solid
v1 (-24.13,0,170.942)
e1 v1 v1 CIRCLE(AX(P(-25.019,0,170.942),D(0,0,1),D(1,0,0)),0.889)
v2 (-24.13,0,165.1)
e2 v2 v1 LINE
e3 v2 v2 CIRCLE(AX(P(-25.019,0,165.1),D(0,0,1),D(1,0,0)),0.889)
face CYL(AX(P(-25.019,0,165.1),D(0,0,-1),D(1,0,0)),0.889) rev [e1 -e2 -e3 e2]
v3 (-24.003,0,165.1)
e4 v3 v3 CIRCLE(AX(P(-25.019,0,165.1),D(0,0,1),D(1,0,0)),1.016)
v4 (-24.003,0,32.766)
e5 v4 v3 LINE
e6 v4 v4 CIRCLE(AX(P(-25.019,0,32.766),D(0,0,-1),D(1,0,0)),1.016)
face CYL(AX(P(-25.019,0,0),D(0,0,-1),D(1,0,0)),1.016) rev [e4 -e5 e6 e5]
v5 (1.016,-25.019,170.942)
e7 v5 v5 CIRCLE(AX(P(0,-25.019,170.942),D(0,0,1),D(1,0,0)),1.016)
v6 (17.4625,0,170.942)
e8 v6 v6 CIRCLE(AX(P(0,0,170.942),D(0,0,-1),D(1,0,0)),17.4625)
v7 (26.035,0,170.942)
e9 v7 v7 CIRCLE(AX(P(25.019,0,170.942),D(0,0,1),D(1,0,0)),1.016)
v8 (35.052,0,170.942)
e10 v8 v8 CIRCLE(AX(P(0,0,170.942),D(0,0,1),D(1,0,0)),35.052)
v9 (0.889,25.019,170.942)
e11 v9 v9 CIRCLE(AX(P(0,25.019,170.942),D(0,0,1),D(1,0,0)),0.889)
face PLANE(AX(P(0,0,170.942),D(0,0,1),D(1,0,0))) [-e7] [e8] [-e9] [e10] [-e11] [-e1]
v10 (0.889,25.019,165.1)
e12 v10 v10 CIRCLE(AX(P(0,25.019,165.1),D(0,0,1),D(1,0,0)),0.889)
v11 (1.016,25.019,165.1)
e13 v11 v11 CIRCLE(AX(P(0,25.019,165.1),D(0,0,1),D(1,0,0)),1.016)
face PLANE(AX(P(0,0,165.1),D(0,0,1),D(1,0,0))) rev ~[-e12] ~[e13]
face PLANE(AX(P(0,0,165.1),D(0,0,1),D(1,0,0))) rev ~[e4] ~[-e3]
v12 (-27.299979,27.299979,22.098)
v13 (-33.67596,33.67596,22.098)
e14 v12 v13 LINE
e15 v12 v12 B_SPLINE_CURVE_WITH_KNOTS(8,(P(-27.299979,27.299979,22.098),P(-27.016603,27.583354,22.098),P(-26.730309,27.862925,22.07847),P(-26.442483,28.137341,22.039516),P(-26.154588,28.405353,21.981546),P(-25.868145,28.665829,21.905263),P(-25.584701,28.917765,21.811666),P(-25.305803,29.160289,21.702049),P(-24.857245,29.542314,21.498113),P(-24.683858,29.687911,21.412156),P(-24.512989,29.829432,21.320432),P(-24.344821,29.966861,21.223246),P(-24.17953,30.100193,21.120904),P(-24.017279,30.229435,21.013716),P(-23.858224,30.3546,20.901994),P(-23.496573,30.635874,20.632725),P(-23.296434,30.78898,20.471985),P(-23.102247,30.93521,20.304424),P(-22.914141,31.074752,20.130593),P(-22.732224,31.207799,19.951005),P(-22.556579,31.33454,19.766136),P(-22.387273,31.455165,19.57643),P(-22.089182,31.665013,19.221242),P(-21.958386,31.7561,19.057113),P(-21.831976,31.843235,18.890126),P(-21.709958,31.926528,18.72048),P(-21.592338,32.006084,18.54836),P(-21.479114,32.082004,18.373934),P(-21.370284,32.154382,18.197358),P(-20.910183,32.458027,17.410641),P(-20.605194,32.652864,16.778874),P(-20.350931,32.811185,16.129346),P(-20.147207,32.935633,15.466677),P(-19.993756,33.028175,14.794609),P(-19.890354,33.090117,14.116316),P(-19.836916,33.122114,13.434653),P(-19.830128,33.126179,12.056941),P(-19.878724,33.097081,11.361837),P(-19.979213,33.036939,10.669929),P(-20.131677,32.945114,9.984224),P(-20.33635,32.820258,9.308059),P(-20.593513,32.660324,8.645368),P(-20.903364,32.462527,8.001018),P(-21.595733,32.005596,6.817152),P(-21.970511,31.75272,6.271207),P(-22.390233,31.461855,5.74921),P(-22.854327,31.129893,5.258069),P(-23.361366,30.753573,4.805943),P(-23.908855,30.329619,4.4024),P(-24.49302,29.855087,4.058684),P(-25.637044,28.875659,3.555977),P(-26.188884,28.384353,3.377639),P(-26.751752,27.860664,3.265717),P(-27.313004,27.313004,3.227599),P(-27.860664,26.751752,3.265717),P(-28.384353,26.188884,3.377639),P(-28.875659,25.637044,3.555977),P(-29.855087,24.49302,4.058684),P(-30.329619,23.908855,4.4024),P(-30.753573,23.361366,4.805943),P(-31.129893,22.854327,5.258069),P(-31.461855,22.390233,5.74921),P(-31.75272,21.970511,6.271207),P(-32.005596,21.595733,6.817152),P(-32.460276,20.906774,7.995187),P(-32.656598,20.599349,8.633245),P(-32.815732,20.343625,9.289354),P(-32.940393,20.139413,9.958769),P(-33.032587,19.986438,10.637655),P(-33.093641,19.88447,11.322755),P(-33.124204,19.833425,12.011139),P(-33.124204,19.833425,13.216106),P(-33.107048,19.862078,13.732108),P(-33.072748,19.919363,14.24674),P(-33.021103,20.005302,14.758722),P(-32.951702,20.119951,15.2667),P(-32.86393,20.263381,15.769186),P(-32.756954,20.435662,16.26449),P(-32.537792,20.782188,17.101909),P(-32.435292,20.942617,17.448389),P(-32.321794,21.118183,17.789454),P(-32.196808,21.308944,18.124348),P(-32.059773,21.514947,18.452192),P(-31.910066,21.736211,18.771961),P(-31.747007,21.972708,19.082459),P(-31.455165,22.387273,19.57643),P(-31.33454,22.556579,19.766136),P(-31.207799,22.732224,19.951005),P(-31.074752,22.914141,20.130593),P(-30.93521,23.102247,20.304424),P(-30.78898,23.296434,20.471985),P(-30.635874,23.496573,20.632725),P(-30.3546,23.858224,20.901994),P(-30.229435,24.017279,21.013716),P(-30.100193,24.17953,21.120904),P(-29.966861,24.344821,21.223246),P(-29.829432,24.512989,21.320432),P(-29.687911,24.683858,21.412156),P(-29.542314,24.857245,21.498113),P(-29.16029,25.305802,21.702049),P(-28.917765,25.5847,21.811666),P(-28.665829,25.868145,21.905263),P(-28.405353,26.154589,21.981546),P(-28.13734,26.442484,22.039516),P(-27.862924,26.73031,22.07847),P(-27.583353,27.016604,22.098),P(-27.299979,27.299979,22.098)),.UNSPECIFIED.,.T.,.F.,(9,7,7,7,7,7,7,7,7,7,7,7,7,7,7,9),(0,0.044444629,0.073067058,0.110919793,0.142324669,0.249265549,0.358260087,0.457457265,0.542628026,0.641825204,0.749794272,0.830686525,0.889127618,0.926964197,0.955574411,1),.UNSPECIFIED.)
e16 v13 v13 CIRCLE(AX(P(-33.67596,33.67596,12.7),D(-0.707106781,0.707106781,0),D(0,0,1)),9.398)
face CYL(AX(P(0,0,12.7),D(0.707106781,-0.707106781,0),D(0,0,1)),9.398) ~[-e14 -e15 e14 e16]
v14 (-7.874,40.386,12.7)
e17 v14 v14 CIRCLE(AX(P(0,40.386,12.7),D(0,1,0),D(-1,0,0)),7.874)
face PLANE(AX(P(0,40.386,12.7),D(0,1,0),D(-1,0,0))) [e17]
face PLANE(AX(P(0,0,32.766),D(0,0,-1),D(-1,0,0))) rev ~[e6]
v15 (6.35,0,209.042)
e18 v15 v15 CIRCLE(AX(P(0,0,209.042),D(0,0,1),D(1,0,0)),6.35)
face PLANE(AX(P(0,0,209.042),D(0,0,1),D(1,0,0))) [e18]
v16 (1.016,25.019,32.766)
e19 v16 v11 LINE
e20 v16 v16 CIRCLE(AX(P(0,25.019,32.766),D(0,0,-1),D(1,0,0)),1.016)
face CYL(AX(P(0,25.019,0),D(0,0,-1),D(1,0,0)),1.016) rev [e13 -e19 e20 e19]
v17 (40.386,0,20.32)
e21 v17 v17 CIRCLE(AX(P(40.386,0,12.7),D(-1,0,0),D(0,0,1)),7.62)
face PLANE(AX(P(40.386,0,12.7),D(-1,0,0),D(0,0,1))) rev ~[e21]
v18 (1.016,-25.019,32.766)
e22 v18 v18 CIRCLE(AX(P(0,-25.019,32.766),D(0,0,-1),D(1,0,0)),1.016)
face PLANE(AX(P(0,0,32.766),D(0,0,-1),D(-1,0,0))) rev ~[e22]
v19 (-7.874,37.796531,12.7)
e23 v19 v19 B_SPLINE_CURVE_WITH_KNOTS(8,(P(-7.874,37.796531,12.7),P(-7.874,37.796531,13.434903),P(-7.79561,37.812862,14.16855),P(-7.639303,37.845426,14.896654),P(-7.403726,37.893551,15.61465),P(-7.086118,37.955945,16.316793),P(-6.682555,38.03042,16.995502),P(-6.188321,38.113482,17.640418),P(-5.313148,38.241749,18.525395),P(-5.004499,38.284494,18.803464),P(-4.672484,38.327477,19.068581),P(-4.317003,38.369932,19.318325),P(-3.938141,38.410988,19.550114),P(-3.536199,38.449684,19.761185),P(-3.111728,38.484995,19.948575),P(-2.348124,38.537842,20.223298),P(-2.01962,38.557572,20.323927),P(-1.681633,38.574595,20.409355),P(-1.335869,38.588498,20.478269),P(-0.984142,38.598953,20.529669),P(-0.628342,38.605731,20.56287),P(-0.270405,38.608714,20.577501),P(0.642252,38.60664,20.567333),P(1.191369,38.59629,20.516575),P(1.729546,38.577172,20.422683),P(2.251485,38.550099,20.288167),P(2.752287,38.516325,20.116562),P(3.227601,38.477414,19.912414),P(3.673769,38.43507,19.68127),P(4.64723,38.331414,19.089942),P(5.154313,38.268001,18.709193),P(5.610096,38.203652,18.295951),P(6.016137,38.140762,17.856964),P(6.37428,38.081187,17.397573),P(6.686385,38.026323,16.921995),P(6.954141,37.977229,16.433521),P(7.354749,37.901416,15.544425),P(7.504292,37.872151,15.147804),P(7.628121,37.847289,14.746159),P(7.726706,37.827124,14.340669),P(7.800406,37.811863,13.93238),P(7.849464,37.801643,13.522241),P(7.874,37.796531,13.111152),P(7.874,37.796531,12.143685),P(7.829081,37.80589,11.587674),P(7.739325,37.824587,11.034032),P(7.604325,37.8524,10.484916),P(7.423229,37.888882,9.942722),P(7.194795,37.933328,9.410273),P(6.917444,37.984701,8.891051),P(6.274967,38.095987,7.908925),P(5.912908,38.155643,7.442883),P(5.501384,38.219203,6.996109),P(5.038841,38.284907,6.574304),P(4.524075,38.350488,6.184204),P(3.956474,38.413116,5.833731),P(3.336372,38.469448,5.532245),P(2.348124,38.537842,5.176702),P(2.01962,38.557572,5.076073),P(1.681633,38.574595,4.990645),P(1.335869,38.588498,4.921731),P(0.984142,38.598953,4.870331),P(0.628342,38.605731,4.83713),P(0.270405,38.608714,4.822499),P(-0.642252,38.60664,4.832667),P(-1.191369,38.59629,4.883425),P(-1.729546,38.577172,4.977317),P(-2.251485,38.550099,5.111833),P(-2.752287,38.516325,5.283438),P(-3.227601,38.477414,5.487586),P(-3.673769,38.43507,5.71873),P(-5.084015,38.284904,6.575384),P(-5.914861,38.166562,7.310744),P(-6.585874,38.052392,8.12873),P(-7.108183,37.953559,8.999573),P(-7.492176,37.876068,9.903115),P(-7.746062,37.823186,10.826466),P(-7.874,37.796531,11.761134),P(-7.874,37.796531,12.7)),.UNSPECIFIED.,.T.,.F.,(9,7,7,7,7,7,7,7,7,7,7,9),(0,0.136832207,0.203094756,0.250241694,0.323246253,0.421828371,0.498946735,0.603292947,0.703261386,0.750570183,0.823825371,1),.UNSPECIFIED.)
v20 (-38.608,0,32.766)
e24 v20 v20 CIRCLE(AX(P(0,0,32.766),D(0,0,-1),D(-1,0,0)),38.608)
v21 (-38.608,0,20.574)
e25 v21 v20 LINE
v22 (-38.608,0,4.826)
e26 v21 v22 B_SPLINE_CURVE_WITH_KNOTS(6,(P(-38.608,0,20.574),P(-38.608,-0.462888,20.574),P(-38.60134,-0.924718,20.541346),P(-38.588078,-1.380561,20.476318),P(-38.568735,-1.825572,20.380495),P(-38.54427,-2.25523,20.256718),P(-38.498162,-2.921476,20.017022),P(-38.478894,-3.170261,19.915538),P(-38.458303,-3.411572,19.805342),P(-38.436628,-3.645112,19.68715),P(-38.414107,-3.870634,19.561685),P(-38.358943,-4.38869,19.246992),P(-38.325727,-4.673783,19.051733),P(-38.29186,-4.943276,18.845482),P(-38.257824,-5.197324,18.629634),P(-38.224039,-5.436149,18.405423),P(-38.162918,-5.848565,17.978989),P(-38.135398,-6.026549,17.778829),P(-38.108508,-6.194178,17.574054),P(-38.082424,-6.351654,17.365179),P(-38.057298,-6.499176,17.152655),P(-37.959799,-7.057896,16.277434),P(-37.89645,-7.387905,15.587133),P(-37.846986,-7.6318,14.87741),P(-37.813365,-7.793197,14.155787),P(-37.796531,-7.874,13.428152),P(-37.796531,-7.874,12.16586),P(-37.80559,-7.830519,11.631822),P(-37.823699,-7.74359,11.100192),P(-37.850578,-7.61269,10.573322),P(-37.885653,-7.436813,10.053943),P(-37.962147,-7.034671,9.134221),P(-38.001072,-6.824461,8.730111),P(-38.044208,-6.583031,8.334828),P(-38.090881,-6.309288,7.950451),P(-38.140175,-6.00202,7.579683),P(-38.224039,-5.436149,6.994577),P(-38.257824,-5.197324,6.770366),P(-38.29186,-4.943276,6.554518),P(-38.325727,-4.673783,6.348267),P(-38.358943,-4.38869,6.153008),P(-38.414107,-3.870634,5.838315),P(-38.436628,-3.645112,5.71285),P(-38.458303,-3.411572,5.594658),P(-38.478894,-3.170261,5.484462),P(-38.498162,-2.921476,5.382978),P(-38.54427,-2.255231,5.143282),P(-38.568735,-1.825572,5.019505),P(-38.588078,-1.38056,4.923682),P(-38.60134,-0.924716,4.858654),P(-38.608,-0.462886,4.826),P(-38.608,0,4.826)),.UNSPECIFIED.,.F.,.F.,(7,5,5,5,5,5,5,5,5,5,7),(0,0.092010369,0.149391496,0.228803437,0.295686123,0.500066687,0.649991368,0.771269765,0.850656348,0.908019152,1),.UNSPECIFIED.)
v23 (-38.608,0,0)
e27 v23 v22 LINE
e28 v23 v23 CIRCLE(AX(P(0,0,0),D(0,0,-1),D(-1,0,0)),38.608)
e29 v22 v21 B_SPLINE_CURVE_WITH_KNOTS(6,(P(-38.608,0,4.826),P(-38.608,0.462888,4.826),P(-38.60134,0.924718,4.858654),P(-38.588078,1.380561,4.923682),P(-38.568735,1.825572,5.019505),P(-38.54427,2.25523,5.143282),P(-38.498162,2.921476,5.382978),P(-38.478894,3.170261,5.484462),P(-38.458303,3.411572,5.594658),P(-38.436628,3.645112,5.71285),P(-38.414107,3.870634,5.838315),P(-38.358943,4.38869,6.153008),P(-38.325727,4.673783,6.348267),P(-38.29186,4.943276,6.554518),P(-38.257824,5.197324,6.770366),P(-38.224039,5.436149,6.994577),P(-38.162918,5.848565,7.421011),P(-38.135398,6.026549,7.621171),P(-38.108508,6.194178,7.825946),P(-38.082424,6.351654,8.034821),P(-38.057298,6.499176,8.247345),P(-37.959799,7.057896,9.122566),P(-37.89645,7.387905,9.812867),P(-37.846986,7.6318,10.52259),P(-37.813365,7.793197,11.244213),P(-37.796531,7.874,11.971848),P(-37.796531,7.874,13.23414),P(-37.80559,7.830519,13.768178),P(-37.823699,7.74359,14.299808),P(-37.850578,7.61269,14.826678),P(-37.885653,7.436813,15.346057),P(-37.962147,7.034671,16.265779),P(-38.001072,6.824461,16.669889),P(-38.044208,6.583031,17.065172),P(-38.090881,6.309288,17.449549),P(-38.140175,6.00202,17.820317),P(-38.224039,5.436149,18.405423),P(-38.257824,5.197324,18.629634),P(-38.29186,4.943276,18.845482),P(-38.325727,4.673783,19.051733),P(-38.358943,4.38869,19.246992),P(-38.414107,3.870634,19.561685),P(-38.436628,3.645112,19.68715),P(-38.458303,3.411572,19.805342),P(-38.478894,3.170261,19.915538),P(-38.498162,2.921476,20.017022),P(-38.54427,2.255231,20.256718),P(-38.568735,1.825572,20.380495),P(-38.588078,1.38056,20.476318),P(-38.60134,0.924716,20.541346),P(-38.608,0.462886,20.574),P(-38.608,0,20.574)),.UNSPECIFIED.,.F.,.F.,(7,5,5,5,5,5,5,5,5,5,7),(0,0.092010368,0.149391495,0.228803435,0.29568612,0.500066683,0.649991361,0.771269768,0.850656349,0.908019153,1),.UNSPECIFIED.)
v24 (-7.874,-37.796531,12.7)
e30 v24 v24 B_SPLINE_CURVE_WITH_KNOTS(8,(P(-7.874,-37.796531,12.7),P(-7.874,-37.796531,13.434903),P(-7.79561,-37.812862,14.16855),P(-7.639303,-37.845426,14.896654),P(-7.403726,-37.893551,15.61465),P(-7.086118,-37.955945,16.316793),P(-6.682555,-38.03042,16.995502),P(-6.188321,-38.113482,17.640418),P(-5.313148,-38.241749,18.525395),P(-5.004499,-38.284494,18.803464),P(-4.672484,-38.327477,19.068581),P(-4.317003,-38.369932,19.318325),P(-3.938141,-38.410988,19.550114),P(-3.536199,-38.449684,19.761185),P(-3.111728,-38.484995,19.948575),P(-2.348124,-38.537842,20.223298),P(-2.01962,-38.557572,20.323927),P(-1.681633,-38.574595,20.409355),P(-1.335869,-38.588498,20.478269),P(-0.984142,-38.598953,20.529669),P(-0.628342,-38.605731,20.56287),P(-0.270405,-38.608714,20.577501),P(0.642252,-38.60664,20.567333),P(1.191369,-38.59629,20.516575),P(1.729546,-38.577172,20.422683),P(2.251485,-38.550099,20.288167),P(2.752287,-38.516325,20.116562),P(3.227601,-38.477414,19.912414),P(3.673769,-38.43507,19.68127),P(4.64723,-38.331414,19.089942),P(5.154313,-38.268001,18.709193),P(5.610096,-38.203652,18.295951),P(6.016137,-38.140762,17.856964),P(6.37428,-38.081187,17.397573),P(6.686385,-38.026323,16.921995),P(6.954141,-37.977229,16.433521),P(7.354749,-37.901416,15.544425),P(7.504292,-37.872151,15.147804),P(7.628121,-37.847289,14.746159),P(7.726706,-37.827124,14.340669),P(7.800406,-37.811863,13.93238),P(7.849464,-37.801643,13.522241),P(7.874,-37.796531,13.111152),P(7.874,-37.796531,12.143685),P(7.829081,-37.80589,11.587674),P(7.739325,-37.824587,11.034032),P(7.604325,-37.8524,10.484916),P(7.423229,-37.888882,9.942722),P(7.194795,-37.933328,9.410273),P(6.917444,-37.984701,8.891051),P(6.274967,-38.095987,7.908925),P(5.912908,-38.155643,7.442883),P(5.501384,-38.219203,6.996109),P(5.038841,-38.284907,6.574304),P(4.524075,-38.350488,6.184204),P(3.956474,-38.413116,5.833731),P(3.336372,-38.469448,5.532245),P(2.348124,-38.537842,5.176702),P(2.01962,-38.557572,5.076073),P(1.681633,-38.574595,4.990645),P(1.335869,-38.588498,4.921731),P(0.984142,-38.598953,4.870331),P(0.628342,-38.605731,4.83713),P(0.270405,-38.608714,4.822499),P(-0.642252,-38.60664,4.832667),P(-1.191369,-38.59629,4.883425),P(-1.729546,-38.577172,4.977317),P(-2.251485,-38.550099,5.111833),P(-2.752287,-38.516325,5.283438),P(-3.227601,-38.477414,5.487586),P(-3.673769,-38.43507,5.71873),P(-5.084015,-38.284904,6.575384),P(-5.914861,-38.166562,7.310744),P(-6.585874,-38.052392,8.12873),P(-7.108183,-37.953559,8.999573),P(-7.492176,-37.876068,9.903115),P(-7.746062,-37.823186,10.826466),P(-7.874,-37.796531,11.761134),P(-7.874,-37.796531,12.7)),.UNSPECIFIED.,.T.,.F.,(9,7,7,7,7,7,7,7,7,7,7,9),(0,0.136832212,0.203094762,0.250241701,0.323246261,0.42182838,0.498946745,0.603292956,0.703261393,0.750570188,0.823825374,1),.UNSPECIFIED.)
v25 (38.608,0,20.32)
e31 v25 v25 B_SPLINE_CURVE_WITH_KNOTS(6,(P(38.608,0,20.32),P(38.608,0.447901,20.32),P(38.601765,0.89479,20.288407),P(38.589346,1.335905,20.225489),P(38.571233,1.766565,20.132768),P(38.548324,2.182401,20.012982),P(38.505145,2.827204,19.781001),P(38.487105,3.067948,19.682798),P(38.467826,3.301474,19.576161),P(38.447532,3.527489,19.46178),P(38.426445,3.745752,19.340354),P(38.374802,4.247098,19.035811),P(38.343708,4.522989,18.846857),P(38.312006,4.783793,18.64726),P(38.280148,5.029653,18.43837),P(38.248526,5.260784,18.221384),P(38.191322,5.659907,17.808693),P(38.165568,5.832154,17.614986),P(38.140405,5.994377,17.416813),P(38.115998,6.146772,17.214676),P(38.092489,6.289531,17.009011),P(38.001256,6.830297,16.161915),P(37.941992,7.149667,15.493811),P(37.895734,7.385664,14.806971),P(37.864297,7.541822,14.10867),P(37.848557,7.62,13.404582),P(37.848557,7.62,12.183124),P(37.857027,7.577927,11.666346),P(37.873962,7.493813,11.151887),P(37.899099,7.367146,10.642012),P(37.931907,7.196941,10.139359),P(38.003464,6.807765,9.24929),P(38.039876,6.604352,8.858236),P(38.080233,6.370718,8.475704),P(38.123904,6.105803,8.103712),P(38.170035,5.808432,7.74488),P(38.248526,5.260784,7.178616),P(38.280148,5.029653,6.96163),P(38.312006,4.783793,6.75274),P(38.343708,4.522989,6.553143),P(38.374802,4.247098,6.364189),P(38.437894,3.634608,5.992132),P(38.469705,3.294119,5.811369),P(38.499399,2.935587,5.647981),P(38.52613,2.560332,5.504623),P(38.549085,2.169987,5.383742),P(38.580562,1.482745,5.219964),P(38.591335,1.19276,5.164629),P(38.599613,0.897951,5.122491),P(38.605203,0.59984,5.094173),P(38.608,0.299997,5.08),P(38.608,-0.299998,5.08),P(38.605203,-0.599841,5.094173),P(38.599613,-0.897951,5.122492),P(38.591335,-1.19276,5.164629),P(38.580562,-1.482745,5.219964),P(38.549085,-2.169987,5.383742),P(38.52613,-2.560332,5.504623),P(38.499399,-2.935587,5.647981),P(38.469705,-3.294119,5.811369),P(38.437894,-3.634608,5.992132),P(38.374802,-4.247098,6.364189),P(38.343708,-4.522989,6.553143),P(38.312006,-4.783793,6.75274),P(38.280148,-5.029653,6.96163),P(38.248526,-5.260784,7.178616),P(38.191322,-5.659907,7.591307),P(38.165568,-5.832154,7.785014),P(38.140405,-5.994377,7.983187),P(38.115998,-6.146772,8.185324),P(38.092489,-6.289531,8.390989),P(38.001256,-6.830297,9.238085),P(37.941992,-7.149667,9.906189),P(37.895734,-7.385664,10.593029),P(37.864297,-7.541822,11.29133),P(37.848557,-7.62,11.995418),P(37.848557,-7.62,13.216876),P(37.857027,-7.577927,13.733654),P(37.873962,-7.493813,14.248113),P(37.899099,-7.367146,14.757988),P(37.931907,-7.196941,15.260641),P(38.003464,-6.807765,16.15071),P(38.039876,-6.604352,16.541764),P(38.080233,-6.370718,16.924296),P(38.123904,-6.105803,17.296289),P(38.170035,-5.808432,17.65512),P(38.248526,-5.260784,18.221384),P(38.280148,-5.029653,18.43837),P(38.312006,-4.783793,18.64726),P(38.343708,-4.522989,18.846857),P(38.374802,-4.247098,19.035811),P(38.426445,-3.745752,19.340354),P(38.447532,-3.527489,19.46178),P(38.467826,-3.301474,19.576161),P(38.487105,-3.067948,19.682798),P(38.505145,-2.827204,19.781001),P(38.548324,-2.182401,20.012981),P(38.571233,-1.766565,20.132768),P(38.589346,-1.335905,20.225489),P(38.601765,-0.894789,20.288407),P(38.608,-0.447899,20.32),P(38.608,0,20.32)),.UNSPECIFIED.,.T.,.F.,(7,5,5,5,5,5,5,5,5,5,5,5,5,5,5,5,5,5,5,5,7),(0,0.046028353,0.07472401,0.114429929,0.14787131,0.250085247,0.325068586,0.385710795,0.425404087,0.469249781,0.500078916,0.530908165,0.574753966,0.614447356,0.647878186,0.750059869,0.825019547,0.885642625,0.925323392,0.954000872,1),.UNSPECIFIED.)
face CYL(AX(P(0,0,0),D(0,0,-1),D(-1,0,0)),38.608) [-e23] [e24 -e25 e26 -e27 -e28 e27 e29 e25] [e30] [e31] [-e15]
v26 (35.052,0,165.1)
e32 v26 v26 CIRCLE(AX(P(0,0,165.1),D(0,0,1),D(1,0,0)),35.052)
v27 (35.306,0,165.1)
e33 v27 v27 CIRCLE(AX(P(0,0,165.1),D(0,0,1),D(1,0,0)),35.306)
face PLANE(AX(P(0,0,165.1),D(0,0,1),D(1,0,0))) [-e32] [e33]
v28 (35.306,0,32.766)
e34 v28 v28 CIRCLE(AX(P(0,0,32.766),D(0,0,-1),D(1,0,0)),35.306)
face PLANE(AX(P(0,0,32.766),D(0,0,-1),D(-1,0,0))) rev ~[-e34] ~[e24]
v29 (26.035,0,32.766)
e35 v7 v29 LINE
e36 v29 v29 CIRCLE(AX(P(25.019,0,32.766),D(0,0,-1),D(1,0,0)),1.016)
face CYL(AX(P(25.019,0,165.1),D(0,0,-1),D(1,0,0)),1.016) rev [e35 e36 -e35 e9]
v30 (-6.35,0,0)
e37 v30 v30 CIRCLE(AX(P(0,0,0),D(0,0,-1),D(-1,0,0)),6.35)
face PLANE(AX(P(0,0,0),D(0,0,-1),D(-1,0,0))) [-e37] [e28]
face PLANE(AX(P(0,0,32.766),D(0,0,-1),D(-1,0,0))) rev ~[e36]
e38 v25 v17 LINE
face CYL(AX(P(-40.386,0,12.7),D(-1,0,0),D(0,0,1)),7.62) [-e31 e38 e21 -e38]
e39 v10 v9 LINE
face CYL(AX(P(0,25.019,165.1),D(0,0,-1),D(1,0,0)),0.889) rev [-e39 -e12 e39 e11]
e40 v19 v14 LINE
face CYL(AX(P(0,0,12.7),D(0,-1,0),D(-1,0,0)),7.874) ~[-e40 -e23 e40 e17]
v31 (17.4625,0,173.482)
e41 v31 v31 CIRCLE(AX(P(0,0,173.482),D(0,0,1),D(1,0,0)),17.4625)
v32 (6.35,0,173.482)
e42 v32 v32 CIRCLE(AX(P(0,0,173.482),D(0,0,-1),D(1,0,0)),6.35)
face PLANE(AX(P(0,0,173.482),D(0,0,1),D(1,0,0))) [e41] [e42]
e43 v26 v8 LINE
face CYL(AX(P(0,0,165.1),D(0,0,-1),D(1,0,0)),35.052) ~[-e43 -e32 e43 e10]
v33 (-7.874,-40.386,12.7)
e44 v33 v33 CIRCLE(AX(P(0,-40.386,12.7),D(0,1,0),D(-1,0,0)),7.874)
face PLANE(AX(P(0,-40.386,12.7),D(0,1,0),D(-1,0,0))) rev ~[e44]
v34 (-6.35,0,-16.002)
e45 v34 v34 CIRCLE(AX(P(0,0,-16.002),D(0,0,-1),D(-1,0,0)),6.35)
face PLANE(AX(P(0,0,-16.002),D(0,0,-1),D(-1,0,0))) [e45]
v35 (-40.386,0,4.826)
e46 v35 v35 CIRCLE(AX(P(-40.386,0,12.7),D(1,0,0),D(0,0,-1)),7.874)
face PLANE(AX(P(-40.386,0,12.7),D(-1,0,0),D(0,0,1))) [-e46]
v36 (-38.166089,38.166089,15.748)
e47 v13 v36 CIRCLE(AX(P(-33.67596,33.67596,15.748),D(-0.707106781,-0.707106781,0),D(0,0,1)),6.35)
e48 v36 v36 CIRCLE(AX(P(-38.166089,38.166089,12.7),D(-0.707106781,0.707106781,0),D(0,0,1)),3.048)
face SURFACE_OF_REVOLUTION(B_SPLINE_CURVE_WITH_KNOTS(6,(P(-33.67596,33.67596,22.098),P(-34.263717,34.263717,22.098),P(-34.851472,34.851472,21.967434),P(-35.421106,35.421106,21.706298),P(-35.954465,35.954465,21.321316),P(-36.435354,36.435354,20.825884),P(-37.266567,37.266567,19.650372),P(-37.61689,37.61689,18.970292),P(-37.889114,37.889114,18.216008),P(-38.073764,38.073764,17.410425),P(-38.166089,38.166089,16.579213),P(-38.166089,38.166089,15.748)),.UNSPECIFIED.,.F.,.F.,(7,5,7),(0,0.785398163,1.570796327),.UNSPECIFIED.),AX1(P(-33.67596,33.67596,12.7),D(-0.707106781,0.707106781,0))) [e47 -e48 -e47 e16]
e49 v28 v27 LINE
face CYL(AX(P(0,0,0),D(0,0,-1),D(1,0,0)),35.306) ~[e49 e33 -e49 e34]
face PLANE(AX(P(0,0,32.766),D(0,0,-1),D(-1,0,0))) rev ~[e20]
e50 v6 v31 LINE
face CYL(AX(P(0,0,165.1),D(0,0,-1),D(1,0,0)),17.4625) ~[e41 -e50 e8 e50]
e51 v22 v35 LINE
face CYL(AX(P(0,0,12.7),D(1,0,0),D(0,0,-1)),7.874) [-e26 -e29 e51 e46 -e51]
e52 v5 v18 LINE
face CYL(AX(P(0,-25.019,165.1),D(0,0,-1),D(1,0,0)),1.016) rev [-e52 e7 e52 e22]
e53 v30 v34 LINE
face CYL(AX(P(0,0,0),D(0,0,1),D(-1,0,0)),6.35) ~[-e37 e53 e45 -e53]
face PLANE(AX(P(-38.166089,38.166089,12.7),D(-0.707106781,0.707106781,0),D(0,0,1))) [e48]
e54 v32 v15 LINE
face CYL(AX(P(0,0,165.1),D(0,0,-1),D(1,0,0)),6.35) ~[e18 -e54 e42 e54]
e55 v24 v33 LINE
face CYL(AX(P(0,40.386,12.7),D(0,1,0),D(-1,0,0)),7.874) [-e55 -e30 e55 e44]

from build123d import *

# Parameters (mm, degrees)
SKETCH1_R            = 35.306
SKETCH1_R_2          = 1.016
BASE_EXTRUDE_DEPTH   = 165.1
SKETCH2_R            = 38.608
BOSS_EXTRUDE1_DEPTH  = 32.766
SKETCH3_R            = 6.35
BOSS_EXTRUDE2_DEPTH  = 43.942
SKETCH4_R            = 17.4625
BOSS_EXTRUDE3_DEPTH  = 8.382
SKETCH7_R            = 7.874
BOSS_EXTRUDE5_DEPTH  = 40.386
SKETCH9_R            = 7.62
BOSS_EXTRUDE7_DEPTH  = 80.772
SKETCH11_R           = 7.874
BOSS_EXTRUDE8_DEPTH  = 40.386
BOSS_EXTRUDE10_START = -80.772
SKETCH12_R           = 7.874
BOSS_EXTRUDE10_DEPTH = 80.772
SKETCH13_R           = 9.398
BOSS_EXTRUDE11_DEPTH = 53.975
FILLET1_R            = 6.35
BOSS_EXTRUDE12_START = 16.002
SKETCH14_R           = 6.35
BOSS_EXTRUDE12_DEPTH = 16.002
SKETCH15_R           = 35.052
SKETCH15_R_2         = 1.016
SKETCH15_R_3         = 0.889
BOSS_EXTRUDE13_DEPTH = 5.842


with BuildPart() as part:
    # Sketch1 → Base-Extrude (new body)
    with BuildSketch(Plane.XY):
        Circle(SKETCH1_R)
        with Locations((25.019, 0)):
            Circle(SKETCH1_R_2, mode=Mode.SUBTRACT)
        with Locations((0, 25.019)):
            Circle(SKETCH1_R_2, mode=Mode.SUBTRACT)
        with Locations((-25.019, 0)):
            Circle(SKETCH1_R_2, mode=Mode.SUBTRACT)
        with Locations((0, -25.019)):
            Circle(SKETCH1_R_2, mode=Mode.SUBTRACT)
    extrude(amount=BASE_EXTRUDE_DEPTH)

    # Sketch2 → Boss-Extrude1 (add)
    with BuildSketch(Plane(origin=(0, 0, 0), x_dir=(-1, 0, 0), z_dir=(0, 0, -1))):
        Circle(SKETCH2_R)
    extrude(amount=-BOSS_EXTRUDE1_DEPTH)

    # Sketch3 → Boss-Extrude2 (add)
    with BuildSketch(Plane.XY.offset(165.1)):
        Circle(SKETCH3_R)
    extrude(amount=BOSS_EXTRUDE2_DEPTH)

    # Sketch4 → Boss-Extrude3 (add)
    with BuildSketch(Plane.XY.offset(165.1)):
        Circle(SKETCH4_R)
    extrude(amount=BOSS_EXTRUDE3_DEPTH)

    # Sketch7 → Boss-Extrude5 (add)
    with BuildSketch(Plane(origin=(0, 0, 0), x_dir=(0, 0, -1), z_dir=(1, 0, 0))):
        with Locations((-12.7, 0)):
            Circle(SKETCH7_R)
    extrude(amount=-BOSS_EXTRUDE5_DEPTH)

    # Sketch9 → Boss-Extrude7 (add)
    with BuildSketch(Plane.ZY.offset(40.386)):
        with Locations((12.7, 0)):
            Circle(SKETCH9_R)
    extrude(amount=-BOSS_EXTRUDE7_DEPTH)

    # Sketch11 → Boss-Extrude8 (add)
    with BuildSketch(Plane(origin=(0, 0, 0), x_dir=(-1, 0, 0), z_dir=(0, 1, 0))):
        with Locations((0, 12.7)):
            Circle(SKETCH11_R)
    extrude(amount=BOSS_EXTRUDE8_DEPTH)

    # Sketch12 → Boss-Extrude10 (add)
    with BuildSketch(Plane(origin=(0, 40.386, 0), x_dir=(-1, 0, 0), z_dir=(0, 1, 0)).offset(BOSS_EXTRUDE10_START)):
        with Locations((0, 12.7)):
            Circle(SKETCH12_R)
    extrude(amount=BOSS_EXTRUDE10_DEPTH)

    # Sketch13 → Boss-Extrude11 (add)
    with BuildSketch(Plane(origin=(0, 0, 0), x_dir=(0, 0, 1), z_dir=(-0.7071067811865488, 0.7071067811865462, 0))):
        with Locations((12.7, 0)):
            Circle(SKETCH13_R)
    extrude(amount=BOSS_EXTRUDE11_DEPTH)

    # Fillet1
    fillet1_edges = [part.edges().sort_by_distance(p)[0] for p in [
        (-38.166088515, 38.166088515, 3.302),
    ]]
    fillet(fillet1_edges, radius=FILLET1_R)

    # Sketch14 → Boss-Extrude12 (add)
    with BuildSketch(Plane(origin=(0, 0, 0), x_dir=(-1, 0, 0), z_dir=(0, 0, -1)).offset(BOSS_EXTRUDE12_START)):
        Circle(SKETCH14_R)
    extrude(amount=-BOSS_EXTRUDE12_DEPTH)

    # Sketch15 → Boss-Extrude13 (add)
    with BuildSketch(Plane.XY.offset(165.1)):
        Circle(SKETCH15_R)
        with Locations((25.019, 0)):
            Circle(SKETCH15_R_2, mode=Mode.SUBTRACT)
        with Locations((0, 25.019)):
            Circle(SKETCH15_R_3, mode=Mode.SUBTRACT)
        with Locations((0, -25.019)):
            Circle(SKETCH15_R_2, mode=Mode.SUBTRACT)
        with Locations((-25.019, 0)):
            Circle(SKETCH15_R_3, mode=Mode.SUBTRACT)
    extrude(amount=BOSS_EXTRUDE13_DEPTH)


solid = part.part
